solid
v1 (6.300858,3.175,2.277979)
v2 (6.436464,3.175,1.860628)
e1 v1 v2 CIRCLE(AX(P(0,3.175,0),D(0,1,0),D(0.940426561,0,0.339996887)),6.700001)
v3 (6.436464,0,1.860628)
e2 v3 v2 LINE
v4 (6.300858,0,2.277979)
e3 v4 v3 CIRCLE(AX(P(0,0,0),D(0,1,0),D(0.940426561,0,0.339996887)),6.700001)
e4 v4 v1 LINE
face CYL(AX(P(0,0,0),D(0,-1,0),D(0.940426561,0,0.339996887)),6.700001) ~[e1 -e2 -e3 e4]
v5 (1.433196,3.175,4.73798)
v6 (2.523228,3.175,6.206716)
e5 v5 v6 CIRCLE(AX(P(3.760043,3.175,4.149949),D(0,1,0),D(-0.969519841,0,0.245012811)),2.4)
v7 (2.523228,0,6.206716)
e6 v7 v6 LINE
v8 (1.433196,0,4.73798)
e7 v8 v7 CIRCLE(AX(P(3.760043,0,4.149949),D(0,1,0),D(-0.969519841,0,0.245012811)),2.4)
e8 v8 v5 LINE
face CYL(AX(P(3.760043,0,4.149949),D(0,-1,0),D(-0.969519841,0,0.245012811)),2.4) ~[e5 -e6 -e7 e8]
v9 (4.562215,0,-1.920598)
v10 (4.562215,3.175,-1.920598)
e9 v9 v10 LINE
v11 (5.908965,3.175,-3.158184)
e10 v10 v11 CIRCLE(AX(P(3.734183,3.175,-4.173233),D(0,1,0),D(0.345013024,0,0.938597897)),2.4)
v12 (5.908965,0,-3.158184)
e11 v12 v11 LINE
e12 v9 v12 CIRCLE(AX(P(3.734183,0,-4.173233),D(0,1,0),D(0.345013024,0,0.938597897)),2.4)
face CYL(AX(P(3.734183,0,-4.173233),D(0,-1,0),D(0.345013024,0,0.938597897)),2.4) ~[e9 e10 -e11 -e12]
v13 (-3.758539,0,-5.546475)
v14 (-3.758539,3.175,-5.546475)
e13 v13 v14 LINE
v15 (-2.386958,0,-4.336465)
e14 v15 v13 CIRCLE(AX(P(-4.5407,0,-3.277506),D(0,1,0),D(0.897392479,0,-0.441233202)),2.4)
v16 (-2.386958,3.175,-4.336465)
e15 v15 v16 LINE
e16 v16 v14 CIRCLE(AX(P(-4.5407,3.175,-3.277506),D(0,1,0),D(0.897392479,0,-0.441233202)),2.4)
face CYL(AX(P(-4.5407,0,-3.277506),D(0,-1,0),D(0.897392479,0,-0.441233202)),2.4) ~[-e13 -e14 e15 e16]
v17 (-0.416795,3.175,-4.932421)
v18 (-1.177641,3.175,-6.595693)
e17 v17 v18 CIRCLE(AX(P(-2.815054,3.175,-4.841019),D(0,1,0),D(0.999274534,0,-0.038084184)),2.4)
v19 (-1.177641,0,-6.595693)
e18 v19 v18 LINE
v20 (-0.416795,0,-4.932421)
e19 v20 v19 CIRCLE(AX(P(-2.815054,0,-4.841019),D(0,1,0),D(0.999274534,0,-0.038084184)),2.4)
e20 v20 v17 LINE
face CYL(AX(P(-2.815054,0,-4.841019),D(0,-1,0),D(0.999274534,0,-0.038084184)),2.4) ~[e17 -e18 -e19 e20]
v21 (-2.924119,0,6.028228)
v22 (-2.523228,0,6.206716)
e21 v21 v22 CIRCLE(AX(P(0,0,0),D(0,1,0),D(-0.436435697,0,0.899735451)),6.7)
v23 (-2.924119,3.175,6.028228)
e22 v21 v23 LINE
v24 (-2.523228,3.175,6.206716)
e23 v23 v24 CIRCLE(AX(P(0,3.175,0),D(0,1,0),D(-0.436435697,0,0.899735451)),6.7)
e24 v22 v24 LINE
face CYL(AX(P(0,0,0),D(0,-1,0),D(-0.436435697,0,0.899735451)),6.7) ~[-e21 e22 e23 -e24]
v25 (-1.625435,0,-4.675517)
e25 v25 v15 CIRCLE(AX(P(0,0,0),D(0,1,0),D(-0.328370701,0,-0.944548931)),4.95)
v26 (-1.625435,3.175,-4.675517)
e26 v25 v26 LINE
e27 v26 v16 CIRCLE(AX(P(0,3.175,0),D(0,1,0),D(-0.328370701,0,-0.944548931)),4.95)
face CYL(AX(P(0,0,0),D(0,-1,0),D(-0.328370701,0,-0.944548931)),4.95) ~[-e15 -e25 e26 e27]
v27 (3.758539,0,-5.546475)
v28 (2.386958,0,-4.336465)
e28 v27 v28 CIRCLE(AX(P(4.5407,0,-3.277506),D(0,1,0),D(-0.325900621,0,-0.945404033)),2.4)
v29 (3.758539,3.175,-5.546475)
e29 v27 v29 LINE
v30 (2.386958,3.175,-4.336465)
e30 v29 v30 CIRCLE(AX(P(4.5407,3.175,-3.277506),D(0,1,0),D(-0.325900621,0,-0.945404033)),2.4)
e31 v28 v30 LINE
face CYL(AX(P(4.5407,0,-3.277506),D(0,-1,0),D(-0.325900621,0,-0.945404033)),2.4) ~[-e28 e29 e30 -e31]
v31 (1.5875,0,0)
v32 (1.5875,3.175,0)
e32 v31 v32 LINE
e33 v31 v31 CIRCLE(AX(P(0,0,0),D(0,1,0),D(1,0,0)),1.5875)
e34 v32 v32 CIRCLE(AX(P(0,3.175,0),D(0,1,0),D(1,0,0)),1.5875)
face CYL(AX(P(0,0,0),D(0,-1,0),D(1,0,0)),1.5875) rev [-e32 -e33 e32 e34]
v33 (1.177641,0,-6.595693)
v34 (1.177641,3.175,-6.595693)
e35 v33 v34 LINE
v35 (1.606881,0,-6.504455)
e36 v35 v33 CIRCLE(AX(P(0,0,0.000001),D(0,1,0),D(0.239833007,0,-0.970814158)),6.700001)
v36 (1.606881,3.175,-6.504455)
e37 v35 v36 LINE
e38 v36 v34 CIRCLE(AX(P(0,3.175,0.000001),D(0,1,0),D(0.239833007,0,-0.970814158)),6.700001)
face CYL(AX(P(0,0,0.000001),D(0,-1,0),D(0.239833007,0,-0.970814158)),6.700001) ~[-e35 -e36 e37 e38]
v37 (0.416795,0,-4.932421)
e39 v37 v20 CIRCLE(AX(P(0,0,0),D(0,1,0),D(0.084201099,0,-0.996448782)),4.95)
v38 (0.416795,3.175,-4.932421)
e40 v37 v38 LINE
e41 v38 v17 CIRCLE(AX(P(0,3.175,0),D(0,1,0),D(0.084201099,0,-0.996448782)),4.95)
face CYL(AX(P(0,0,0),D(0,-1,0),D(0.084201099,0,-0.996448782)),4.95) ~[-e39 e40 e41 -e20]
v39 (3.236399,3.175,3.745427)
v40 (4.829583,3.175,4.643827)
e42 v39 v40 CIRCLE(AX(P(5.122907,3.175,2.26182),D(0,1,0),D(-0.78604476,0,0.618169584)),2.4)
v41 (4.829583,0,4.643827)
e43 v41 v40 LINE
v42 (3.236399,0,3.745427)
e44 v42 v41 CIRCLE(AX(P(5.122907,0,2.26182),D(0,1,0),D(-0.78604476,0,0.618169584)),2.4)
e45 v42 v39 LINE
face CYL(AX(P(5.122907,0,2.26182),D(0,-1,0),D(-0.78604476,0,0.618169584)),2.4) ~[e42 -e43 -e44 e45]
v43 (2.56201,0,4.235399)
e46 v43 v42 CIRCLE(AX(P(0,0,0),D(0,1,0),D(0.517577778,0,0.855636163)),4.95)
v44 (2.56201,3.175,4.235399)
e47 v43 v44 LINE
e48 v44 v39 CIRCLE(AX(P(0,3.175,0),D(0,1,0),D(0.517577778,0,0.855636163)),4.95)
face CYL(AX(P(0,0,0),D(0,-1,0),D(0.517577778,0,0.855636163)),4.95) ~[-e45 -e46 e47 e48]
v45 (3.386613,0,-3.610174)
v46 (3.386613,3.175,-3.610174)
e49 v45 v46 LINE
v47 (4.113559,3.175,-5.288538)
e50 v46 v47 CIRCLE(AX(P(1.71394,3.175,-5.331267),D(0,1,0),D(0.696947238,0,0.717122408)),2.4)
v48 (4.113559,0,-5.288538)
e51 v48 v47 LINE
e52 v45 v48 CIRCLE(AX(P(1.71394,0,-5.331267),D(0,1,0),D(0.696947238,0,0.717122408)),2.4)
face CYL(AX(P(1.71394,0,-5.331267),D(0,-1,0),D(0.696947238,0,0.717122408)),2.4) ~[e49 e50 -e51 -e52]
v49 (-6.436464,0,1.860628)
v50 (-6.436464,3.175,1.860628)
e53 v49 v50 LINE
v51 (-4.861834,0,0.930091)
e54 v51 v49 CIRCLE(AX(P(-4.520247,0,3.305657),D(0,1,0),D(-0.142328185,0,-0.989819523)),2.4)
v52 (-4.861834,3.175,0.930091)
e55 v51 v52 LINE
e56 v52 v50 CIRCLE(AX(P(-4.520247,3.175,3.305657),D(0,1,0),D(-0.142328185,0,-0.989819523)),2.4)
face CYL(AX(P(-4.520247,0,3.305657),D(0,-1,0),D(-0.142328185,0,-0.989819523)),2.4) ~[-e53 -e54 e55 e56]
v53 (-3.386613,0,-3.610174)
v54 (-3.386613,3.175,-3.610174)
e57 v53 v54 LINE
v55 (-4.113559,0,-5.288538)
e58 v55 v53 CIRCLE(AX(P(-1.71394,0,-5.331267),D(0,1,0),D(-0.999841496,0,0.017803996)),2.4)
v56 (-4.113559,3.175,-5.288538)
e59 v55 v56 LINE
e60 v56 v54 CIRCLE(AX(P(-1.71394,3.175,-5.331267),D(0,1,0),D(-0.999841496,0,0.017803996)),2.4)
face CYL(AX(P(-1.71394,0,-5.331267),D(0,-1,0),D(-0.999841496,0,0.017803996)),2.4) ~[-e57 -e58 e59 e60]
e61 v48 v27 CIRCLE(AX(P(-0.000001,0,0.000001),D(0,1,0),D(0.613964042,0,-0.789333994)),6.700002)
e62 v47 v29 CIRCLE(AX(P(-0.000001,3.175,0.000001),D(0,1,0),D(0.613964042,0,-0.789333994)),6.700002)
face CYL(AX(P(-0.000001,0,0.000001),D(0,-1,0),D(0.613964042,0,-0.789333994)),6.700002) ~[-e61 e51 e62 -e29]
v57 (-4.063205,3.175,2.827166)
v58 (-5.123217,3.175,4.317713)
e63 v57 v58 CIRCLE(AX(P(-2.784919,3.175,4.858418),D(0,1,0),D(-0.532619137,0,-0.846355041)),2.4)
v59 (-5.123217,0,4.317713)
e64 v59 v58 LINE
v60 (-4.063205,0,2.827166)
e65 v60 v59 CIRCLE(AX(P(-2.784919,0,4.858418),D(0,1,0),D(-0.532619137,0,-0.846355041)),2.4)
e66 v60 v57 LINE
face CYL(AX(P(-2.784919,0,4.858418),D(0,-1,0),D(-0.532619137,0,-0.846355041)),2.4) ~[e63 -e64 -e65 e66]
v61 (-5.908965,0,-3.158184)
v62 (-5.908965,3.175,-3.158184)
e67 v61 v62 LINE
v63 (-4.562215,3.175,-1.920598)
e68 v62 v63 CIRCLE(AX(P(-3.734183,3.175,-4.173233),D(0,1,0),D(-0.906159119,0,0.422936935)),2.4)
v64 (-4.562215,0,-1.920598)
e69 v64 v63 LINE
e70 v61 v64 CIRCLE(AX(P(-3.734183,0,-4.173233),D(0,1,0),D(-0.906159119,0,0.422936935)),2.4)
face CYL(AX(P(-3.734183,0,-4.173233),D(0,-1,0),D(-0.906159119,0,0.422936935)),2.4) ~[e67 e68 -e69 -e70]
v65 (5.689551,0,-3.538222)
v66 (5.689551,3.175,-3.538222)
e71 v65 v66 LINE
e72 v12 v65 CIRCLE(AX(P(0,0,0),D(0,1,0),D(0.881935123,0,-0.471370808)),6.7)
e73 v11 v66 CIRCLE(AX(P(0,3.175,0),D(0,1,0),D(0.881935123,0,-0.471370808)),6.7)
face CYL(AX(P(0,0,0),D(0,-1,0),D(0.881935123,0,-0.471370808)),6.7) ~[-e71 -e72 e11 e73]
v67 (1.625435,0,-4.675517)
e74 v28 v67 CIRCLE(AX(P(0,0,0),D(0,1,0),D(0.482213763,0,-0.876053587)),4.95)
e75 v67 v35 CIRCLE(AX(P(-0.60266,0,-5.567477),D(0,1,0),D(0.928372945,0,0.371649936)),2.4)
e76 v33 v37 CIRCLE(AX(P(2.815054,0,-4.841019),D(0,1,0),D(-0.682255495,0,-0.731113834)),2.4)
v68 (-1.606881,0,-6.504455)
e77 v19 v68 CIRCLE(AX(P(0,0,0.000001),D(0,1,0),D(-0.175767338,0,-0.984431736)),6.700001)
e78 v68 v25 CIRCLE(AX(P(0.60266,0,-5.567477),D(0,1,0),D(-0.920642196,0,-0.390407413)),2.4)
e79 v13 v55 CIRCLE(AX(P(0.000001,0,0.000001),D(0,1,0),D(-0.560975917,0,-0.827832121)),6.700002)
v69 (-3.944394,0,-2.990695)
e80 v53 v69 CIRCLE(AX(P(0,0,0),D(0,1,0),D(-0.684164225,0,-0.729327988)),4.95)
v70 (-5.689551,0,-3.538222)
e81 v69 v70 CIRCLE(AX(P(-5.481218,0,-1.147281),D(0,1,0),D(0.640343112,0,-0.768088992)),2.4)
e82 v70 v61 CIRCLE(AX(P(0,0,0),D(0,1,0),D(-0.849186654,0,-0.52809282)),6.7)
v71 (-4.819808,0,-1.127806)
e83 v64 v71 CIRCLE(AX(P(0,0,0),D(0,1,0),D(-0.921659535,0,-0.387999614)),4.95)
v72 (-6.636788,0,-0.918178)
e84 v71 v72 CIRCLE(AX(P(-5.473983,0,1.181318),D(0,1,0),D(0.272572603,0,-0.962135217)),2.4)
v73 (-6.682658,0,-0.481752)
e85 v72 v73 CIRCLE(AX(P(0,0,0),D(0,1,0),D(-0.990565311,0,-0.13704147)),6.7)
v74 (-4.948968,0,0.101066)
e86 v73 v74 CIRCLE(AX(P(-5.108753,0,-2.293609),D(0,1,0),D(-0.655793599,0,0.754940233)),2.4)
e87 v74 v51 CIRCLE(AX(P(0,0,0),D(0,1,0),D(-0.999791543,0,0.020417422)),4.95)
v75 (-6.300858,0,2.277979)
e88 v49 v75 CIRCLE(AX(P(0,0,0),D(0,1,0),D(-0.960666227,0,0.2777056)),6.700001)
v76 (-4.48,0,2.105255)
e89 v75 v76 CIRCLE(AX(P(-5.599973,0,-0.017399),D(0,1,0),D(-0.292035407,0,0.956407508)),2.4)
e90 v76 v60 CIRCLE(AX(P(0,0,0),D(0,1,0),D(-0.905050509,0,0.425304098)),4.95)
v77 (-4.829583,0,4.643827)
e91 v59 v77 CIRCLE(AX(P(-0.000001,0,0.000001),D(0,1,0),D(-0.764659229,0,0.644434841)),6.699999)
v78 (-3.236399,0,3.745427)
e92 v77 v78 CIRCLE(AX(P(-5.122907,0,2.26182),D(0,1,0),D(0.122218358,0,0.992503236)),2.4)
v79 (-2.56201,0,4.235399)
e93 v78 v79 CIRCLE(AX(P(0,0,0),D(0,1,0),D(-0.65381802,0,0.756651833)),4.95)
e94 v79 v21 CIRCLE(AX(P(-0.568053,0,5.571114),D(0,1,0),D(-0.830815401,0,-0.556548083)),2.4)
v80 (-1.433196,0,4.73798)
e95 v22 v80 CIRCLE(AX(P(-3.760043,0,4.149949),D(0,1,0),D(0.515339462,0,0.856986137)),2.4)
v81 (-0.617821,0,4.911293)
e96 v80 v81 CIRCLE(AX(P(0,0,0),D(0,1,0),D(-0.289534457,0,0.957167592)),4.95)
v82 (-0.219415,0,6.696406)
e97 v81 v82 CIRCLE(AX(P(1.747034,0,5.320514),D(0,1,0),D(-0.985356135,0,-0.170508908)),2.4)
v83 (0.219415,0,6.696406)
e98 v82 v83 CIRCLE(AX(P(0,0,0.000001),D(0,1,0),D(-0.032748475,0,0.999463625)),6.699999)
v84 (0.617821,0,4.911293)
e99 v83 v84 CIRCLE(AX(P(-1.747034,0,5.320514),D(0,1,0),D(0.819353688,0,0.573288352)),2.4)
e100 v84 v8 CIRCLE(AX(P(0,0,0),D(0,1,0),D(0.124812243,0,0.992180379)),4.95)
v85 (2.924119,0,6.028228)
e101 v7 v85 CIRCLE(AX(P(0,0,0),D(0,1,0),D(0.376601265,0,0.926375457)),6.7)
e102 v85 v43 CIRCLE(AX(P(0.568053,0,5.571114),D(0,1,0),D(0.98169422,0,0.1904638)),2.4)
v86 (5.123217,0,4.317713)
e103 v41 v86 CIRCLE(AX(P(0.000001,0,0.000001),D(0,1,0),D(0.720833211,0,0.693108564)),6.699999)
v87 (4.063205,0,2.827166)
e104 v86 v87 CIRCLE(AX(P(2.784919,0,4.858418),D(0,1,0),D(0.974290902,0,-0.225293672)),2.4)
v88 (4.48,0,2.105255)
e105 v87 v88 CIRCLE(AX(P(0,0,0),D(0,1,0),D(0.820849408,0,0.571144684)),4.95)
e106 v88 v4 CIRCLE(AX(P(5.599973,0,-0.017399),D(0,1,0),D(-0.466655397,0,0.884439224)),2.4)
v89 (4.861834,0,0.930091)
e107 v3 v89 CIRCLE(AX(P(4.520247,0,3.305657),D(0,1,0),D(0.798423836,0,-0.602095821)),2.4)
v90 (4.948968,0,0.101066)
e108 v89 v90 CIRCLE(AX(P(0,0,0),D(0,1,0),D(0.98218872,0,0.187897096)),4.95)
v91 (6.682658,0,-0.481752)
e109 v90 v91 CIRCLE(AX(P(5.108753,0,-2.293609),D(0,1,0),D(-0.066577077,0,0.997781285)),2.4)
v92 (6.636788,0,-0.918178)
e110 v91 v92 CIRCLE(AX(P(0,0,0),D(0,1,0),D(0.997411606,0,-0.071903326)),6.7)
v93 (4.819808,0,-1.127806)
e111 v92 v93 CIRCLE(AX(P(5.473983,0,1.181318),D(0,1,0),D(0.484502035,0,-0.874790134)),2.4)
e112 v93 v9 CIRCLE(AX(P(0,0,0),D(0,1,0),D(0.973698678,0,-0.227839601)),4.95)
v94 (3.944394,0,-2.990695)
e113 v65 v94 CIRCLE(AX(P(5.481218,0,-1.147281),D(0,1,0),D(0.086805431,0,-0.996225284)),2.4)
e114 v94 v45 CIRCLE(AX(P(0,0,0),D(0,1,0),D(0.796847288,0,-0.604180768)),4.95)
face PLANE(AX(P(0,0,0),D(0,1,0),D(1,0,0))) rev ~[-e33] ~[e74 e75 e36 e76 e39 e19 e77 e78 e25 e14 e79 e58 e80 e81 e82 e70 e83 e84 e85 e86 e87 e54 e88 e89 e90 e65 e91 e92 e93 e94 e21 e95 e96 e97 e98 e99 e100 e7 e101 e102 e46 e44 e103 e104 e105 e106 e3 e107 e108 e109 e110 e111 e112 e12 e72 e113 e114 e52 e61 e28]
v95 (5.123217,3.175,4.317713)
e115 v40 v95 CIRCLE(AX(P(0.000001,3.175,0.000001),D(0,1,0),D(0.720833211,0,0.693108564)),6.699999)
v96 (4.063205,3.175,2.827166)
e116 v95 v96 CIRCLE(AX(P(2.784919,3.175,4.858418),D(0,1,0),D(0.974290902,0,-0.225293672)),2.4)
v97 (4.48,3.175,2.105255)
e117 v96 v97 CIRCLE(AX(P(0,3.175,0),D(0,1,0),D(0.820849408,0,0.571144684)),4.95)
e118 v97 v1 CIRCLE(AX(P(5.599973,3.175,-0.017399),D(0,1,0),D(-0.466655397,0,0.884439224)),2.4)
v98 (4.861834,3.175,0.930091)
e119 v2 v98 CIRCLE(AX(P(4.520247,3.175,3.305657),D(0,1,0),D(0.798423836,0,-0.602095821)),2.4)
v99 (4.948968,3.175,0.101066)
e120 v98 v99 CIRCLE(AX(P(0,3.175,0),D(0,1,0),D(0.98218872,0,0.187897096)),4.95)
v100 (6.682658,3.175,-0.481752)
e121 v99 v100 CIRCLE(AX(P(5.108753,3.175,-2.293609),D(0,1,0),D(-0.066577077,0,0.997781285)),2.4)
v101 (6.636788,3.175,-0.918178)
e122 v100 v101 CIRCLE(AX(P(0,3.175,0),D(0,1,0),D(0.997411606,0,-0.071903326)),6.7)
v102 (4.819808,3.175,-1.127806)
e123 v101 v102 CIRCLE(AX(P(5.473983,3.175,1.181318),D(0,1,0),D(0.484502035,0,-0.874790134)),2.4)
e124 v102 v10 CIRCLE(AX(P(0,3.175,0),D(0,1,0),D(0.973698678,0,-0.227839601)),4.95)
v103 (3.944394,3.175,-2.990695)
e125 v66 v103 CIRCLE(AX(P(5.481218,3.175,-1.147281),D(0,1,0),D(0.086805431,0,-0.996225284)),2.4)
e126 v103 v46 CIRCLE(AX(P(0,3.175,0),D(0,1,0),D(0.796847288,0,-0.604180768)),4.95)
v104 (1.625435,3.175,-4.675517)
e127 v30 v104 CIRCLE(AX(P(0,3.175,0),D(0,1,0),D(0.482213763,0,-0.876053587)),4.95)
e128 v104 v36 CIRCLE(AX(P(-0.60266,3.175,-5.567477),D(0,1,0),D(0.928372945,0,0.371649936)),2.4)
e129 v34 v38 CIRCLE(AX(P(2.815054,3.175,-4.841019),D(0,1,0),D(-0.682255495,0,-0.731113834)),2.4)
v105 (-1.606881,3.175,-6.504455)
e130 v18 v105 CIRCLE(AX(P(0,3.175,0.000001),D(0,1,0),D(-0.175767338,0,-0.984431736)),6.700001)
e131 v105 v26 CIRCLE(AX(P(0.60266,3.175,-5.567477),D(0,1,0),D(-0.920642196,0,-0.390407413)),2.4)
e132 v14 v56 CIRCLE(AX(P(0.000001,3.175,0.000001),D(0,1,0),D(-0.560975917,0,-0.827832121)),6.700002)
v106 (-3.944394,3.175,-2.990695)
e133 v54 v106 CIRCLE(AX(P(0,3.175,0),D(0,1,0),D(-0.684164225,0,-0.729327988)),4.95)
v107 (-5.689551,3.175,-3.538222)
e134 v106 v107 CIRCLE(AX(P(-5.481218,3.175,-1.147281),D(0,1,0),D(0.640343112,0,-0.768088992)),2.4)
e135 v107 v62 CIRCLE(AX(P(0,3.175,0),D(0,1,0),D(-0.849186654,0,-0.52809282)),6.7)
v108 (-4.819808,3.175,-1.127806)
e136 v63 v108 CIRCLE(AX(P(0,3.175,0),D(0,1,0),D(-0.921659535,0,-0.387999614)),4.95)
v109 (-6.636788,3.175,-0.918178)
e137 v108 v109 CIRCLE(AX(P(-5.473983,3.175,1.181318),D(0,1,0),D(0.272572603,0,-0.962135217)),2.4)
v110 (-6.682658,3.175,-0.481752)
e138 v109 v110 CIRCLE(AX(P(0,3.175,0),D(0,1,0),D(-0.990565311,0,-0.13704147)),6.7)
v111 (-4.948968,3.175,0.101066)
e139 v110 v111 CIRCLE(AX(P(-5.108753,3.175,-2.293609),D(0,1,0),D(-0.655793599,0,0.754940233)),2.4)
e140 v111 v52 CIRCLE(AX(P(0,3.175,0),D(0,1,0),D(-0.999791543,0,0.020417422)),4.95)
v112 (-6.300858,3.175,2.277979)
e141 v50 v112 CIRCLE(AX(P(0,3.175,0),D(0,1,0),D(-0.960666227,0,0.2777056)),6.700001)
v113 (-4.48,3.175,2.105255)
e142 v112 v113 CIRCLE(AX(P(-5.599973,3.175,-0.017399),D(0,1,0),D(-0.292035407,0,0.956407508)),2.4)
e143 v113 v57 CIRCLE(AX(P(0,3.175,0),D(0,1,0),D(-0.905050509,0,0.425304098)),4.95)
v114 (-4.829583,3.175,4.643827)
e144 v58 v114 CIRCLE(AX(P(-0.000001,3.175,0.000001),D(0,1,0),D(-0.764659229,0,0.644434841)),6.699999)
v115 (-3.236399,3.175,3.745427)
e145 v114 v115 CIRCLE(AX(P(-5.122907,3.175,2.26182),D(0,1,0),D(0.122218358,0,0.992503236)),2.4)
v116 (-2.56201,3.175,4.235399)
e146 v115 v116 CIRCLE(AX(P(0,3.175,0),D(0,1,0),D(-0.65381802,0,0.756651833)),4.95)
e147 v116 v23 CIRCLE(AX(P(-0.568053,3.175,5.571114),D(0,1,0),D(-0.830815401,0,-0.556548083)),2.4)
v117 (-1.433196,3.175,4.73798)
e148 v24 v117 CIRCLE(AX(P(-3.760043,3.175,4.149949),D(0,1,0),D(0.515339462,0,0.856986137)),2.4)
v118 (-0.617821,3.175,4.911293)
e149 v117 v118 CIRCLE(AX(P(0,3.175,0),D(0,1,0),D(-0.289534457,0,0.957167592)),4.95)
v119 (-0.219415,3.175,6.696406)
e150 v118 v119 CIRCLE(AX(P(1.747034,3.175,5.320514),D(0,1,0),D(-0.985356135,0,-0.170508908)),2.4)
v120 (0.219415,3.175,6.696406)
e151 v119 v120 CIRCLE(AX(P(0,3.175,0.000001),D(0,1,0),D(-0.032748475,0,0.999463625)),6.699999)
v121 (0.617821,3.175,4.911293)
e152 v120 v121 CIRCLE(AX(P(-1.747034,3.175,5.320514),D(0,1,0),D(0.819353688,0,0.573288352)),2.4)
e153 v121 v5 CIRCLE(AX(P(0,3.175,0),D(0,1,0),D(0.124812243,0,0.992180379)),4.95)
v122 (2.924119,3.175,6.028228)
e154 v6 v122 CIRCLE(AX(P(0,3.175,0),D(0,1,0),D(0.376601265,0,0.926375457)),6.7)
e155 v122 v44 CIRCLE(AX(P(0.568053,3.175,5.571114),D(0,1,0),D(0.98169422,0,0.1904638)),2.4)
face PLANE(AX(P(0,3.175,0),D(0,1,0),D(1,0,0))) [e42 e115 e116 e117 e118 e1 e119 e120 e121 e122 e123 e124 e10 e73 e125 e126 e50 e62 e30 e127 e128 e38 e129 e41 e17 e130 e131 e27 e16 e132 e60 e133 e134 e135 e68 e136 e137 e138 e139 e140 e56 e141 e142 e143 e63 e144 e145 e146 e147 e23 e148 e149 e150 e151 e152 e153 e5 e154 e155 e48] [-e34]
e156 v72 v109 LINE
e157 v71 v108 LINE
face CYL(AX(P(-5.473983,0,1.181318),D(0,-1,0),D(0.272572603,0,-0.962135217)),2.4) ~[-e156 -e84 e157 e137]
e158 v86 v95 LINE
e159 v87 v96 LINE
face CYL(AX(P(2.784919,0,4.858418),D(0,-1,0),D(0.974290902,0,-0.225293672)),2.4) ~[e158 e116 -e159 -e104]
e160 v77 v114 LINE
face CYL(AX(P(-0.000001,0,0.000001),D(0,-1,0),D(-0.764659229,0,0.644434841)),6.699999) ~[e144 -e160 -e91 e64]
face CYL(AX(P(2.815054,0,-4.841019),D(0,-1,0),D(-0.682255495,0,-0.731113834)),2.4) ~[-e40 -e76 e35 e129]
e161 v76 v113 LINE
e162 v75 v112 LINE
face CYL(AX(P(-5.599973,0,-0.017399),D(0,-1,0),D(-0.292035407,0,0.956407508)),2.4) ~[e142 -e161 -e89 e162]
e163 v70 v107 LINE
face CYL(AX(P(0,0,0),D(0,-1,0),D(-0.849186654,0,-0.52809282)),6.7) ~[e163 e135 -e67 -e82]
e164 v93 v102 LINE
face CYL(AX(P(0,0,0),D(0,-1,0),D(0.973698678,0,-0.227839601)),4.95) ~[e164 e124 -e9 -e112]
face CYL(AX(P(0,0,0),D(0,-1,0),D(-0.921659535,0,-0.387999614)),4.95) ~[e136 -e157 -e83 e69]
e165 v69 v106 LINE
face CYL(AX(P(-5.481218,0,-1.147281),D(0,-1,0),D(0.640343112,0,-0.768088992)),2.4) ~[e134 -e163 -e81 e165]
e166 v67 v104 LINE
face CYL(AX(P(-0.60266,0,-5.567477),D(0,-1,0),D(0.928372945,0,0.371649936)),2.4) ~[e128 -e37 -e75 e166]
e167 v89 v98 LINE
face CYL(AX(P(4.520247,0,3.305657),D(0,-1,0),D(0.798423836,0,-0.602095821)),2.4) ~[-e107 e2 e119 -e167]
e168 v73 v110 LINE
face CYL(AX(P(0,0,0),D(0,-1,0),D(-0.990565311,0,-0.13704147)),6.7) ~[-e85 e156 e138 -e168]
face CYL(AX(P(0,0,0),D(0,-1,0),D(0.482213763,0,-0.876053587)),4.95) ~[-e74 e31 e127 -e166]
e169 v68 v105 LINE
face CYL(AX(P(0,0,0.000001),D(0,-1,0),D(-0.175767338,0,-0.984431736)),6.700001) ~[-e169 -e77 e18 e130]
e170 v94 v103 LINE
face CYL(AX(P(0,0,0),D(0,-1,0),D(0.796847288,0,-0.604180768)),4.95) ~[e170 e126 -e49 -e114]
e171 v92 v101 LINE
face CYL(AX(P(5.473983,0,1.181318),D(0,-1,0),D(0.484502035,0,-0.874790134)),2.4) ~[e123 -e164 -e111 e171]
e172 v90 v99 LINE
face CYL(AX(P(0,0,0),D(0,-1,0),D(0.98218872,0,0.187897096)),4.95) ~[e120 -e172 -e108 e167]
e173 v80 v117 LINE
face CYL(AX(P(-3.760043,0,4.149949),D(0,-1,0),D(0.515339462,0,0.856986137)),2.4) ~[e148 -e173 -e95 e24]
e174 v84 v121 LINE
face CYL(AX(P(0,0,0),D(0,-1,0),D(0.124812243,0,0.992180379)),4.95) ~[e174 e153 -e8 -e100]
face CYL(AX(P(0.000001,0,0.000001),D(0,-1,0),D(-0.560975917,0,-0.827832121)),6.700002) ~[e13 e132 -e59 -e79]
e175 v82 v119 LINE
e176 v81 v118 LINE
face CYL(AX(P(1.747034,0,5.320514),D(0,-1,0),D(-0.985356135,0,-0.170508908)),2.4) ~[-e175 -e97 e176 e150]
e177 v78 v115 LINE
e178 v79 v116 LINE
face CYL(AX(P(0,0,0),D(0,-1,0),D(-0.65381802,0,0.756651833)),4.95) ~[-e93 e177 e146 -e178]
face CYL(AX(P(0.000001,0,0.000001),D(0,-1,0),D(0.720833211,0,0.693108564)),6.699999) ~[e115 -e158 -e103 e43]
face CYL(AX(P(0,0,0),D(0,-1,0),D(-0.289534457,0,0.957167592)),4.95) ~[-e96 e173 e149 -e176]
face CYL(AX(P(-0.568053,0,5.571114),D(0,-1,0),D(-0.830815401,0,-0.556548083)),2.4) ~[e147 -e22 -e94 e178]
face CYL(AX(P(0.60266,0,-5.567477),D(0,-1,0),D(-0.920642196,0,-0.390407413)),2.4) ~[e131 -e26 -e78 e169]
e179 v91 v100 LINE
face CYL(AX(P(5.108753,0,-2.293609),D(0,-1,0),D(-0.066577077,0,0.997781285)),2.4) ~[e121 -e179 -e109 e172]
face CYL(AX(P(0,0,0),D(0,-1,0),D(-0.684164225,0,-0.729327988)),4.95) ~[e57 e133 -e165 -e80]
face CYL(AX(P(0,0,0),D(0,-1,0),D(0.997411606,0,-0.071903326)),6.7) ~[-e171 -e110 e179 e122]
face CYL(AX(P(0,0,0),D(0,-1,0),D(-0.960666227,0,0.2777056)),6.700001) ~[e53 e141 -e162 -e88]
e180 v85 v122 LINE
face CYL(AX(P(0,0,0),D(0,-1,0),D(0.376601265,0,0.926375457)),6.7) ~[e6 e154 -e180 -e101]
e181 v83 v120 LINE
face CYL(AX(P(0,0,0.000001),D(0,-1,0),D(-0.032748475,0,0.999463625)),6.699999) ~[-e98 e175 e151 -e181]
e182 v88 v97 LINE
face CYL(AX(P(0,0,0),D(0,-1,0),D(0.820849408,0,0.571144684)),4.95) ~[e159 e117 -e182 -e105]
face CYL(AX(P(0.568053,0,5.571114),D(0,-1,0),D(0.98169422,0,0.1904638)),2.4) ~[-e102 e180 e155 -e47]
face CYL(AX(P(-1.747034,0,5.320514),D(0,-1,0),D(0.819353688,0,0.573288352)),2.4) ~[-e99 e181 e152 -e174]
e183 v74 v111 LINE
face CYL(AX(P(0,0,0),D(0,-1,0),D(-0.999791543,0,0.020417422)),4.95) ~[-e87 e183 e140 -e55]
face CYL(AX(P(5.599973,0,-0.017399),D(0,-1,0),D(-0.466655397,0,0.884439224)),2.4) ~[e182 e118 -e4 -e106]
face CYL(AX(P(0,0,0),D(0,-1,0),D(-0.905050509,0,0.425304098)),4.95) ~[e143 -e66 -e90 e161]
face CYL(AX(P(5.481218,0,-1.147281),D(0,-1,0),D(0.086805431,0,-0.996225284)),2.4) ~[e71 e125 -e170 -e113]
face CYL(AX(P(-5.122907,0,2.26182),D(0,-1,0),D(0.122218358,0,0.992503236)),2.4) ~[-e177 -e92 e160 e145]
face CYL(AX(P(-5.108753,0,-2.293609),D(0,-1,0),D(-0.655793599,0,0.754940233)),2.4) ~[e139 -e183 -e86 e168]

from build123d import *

# Parameters (mm, degrees)
SKETCH1_R           = 1.5875
BOSS_EXTRUDE1_DEPTH = 3.175


with BuildPart() as part:
    # Sketch1 → Boss-Extrude1 (new body)
    with BuildSketch(Plane(origin=(0, 0, 0), x_dir=(1, 0, 0), z_dir=(0, 1, 0))):
        with BuildLine():
            ThreePointArc((-1.625434965, 4.675517209), (-2.013346383, 4.522050015), (-2.386958137, 4.336465249))
            ThreePointArc((-2.386958137, 4.336465249), (-2.952961664, 5.077251852), (-3.758538597, 5.546475243))
            ThreePointArc((-3.758538597, 5.546475243), (-3.93816119, 5.420413862), (-4.113559122, 5.288537733))
            ThreePointArc((-4.113559122, 5.288537733), (-3.916238121, 4.37739054), (-3.386612903, 3.610173548))
            ThreePointArc((-3.386612903, 3.610173548), (-3.678566886, 3.312196501), (-3.944394082, 2.99069479))
            ThreePointArc((-3.944394082, 2.99069479), (-4.762769089, 3.437222652), (-5.689550583, 3.538221892))
            ThreePointArc((-5.689550583, 3.538221892), (-5.802370205, 3.35), (-5.908965335, 3.158184395))
            ThreePointArc((-5.908965335, 3.158184395), (-5.35810668, 2.406067698), (-4.562214704, 1.920598082))
            ThreePointArc((-4.562214704, 1.920598082), (-4.707729756, 1.529634122), (-4.819808456, 1.127806033))
            ThreePointArc((-4.819808456, 1.127806033), (-5.74905047, 1.20286643), (-6.636787586, 0.918177833))
            ThreePointArc((-6.636787586, 0.918177833), (-6.663296699, 0.700340704), (-6.68265776, 0.481752285))
            ThreePointArc((-6.68265776, 0.481752285), (-5.873509917, 0.018713892), (-4.948968136, -0.10106624))
            ThreePointArc((-4.948968136, -0.10106624), (-4.922883382, -0.517415893), (-4.861834162, -0.930090633))
            ThreePointArc((-4.861834162, -0.930090633), (-5.741268797, -1.239476326), (-6.436463722, -1.860627515))
            ThreePointArc((-6.436463722, -1.860627515), (-6.372078659, -2.070413862), (-6.300857949, -2.277979173))
            ThreePointArc((-6.300857949, -2.277979173), (-5.373329931, -2.371875716), (-4.480000018, -2.105255291))
            ThreePointArc((-4.480000018, -2.105255291), (-4.286825749, -2.475), (-4.063204572, -2.827166179))
            ThreePointArc((-4.063204572, -2.827166179), (-4.74076959, -3.467502365), (-5.123216807, -4.317713463))
            ThreePointArc((-5.123216807, -4.317713463), (-4.979070331, -4.483175063), (-4.829582556, -4.643827336))
            ThreePointArc((-4.829582556, -4.643827336), (-3.944052384, -4.352346465), (-3.236399197, -3.745426576))
            ThreePointArc((-3.236399197, -3.745426576), (-2.909536999, -4.004634122), (-2.562009999, -4.235399009))
            ThreePointArc((-2.562009999, -4.235399009), (-2.920548253, -5.095965744), (-2.924119163, -6.028227527))
            ThreePointArc((-2.924119163, -6.028227527), (-2.725135509, -6.120754566), (-2.523228465, -6.206715566))
            ThreePointArc((-2.523228465, -6.206715566), (-1.83281235, -5.58025697), (-1.433195553, -4.737979581))
            ThreePointArc((-1.433195553, -4.737979581), (-1.02916287, -4.841830624), (-0.617820622, -4.911292872))
            ThreePointArc((-0.617820622, -4.911292872), (-0.595337591, -5.84329035), (-0.219414751, -6.696406287))
            ThreePointArc((-0.219414751, -6.696406287), (0, -6.7), (0.219414751, -6.696406287))
            ThreePointArc((0.219414751, -6.696406287), (0.595337591, -5.84329035), (0.617820622, -4.911292872))
            ThreePointArc((0.617820622, -4.911292872), (1.02916287, -4.841830624), (1.433195553, -4.737979581))
            ThreePointArc((1.433195553, -4.737979581), (1.83281235, -5.58025697), (2.523228465, -6.206715566))
            ThreePointArc((2.523228465, -6.206715566), (2.725135509, -6.120754566), (2.924119163, -6.028227527))
            ThreePointArc((2.924119163, -6.028227527), (2.920548253, -5.095965744), (2.562009999, -4.235399009))
            ThreePointArc((2.562009999, -4.235399009), (2.909536999, -4.004634122), (3.236399197, -3.745426576))
            ThreePointArc((3.236399197, -3.745426576), (3.944052384, -4.352346465), (4.829582556, -4.643827336))
            ThreePointArc((4.829582556, -4.643827336), (4.979070331, -4.483175063), (5.123216807, -4.317713463))
            ThreePointArc((5.123216807, -4.317713463), (4.74076959, -3.467502365), (4.063204572, -2.827166179))
            ThreePointArc((4.063204572, -2.827166179), (4.286825749, -2.475), (4.480000018, -2.105255291))
            ThreePointArc((4.480000018, -2.105255291), (5.373329931, -2.371875716), (6.300857949, -2.277979173))
            ThreePointArc((6.300857949, -2.277979173), (6.372078659, -2.070413862), (6.436463722, -1.860627515))
            ThreePointArc((6.436463722, -1.860627515), (5.741268797, -1.239476326), (4.861834162, -0.930090633))
            ThreePointArc((4.861834162, -0.930090633), (4.922883382, -0.517415893), (4.948968136, -0.10106624))
            ThreePointArc((4.948968136, -0.10106624), (5.873509917, 0.018713892), (6.68265776, 0.481752285))
            ThreePointArc((6.68265776, 0.481752285), (6.663296699, 0.700340704), (6.636787586, 0.918177833))
            ThreePointArc((6.636787586, 0.918177833), (5.74905047, 1.20286643), (4.819808456, 1.127806033))
            ThreePointArc((4.819808456, 1.127806033), (4.707729756, 1.529634122), (4.562214704, 1.920598082))
            ThreePointArc((4.562214704, 1.920598082), (5.35810668, 2.406067698), (5.908965335, 3.158184395))
            ThreePointArc((5.908965335, 3.158184395), (5.802370205, 3.35), (5.689550583, 3.538221892))
            ThreePointArc((5.689550583, 3.538221892), (4.762769089, 3.437222652), (3.944394082, 2.99069479))
            ThreePointArc((3.944394082, 2.99069479), (3.678566886, 3.312196501), (3.386612903, 3.610173548))
            ThreePointArc((3.386612903, 3.610173548), (3.916238121, 4.37739054), (4.113559122, 5.288537733))
            ThreePointArc((4.113559122, 5.288537733), (3.93816119, 5.420413862), (3.758538597, 5.546475243))
            ThreePointArc((3.758538597, 5.546475243), (2.952961664, 5.077251852), (2.386958137, 4.336465249))
            ThreePointArc((2.386958137, 4.336465249), (2.013346383, 4.522050015), (1.625434965, 4.675517209))
            ThreePointArc((1.625434965, 4.675517209), (1.797216412, 5.591822791), (1.606881166, 6.504454852))
            ThreePointArc((1.606881166, 6.504454852), (1.393008328, 6.553588925), (1.177641141, 6.595692636))
            ThreePointArc((1.177641141, 6.595692636), (0.632560341, 5.839378081), (0.416795446, 4.93242147))
            ThreePointArc((0.416795446, 4.93242147), (0, 4.95), (-0.416795446, 4.93242147))
            ThreePointArc((-0.416795446, 4.93242147), (-0.632560341, 5.839378081), (-1.177641141, 6.595692636))
            ThreePointArc((-1.177641141, 6.595692636), (-1.393008328, 6.553588925), (-1.606881166, 6.504454852))
            ThreePointArc((-1.606881166, 6.504454852), (-1.797216412, 5.591822791), (-1.625434965, 4.675517209))
        make_face()
        Circle(SKETCH1_R, mode=Mode.SUBTRACT)
    extrude(amount=BOSS_EXTRUDE1_DEPTH)


solid = part.part
